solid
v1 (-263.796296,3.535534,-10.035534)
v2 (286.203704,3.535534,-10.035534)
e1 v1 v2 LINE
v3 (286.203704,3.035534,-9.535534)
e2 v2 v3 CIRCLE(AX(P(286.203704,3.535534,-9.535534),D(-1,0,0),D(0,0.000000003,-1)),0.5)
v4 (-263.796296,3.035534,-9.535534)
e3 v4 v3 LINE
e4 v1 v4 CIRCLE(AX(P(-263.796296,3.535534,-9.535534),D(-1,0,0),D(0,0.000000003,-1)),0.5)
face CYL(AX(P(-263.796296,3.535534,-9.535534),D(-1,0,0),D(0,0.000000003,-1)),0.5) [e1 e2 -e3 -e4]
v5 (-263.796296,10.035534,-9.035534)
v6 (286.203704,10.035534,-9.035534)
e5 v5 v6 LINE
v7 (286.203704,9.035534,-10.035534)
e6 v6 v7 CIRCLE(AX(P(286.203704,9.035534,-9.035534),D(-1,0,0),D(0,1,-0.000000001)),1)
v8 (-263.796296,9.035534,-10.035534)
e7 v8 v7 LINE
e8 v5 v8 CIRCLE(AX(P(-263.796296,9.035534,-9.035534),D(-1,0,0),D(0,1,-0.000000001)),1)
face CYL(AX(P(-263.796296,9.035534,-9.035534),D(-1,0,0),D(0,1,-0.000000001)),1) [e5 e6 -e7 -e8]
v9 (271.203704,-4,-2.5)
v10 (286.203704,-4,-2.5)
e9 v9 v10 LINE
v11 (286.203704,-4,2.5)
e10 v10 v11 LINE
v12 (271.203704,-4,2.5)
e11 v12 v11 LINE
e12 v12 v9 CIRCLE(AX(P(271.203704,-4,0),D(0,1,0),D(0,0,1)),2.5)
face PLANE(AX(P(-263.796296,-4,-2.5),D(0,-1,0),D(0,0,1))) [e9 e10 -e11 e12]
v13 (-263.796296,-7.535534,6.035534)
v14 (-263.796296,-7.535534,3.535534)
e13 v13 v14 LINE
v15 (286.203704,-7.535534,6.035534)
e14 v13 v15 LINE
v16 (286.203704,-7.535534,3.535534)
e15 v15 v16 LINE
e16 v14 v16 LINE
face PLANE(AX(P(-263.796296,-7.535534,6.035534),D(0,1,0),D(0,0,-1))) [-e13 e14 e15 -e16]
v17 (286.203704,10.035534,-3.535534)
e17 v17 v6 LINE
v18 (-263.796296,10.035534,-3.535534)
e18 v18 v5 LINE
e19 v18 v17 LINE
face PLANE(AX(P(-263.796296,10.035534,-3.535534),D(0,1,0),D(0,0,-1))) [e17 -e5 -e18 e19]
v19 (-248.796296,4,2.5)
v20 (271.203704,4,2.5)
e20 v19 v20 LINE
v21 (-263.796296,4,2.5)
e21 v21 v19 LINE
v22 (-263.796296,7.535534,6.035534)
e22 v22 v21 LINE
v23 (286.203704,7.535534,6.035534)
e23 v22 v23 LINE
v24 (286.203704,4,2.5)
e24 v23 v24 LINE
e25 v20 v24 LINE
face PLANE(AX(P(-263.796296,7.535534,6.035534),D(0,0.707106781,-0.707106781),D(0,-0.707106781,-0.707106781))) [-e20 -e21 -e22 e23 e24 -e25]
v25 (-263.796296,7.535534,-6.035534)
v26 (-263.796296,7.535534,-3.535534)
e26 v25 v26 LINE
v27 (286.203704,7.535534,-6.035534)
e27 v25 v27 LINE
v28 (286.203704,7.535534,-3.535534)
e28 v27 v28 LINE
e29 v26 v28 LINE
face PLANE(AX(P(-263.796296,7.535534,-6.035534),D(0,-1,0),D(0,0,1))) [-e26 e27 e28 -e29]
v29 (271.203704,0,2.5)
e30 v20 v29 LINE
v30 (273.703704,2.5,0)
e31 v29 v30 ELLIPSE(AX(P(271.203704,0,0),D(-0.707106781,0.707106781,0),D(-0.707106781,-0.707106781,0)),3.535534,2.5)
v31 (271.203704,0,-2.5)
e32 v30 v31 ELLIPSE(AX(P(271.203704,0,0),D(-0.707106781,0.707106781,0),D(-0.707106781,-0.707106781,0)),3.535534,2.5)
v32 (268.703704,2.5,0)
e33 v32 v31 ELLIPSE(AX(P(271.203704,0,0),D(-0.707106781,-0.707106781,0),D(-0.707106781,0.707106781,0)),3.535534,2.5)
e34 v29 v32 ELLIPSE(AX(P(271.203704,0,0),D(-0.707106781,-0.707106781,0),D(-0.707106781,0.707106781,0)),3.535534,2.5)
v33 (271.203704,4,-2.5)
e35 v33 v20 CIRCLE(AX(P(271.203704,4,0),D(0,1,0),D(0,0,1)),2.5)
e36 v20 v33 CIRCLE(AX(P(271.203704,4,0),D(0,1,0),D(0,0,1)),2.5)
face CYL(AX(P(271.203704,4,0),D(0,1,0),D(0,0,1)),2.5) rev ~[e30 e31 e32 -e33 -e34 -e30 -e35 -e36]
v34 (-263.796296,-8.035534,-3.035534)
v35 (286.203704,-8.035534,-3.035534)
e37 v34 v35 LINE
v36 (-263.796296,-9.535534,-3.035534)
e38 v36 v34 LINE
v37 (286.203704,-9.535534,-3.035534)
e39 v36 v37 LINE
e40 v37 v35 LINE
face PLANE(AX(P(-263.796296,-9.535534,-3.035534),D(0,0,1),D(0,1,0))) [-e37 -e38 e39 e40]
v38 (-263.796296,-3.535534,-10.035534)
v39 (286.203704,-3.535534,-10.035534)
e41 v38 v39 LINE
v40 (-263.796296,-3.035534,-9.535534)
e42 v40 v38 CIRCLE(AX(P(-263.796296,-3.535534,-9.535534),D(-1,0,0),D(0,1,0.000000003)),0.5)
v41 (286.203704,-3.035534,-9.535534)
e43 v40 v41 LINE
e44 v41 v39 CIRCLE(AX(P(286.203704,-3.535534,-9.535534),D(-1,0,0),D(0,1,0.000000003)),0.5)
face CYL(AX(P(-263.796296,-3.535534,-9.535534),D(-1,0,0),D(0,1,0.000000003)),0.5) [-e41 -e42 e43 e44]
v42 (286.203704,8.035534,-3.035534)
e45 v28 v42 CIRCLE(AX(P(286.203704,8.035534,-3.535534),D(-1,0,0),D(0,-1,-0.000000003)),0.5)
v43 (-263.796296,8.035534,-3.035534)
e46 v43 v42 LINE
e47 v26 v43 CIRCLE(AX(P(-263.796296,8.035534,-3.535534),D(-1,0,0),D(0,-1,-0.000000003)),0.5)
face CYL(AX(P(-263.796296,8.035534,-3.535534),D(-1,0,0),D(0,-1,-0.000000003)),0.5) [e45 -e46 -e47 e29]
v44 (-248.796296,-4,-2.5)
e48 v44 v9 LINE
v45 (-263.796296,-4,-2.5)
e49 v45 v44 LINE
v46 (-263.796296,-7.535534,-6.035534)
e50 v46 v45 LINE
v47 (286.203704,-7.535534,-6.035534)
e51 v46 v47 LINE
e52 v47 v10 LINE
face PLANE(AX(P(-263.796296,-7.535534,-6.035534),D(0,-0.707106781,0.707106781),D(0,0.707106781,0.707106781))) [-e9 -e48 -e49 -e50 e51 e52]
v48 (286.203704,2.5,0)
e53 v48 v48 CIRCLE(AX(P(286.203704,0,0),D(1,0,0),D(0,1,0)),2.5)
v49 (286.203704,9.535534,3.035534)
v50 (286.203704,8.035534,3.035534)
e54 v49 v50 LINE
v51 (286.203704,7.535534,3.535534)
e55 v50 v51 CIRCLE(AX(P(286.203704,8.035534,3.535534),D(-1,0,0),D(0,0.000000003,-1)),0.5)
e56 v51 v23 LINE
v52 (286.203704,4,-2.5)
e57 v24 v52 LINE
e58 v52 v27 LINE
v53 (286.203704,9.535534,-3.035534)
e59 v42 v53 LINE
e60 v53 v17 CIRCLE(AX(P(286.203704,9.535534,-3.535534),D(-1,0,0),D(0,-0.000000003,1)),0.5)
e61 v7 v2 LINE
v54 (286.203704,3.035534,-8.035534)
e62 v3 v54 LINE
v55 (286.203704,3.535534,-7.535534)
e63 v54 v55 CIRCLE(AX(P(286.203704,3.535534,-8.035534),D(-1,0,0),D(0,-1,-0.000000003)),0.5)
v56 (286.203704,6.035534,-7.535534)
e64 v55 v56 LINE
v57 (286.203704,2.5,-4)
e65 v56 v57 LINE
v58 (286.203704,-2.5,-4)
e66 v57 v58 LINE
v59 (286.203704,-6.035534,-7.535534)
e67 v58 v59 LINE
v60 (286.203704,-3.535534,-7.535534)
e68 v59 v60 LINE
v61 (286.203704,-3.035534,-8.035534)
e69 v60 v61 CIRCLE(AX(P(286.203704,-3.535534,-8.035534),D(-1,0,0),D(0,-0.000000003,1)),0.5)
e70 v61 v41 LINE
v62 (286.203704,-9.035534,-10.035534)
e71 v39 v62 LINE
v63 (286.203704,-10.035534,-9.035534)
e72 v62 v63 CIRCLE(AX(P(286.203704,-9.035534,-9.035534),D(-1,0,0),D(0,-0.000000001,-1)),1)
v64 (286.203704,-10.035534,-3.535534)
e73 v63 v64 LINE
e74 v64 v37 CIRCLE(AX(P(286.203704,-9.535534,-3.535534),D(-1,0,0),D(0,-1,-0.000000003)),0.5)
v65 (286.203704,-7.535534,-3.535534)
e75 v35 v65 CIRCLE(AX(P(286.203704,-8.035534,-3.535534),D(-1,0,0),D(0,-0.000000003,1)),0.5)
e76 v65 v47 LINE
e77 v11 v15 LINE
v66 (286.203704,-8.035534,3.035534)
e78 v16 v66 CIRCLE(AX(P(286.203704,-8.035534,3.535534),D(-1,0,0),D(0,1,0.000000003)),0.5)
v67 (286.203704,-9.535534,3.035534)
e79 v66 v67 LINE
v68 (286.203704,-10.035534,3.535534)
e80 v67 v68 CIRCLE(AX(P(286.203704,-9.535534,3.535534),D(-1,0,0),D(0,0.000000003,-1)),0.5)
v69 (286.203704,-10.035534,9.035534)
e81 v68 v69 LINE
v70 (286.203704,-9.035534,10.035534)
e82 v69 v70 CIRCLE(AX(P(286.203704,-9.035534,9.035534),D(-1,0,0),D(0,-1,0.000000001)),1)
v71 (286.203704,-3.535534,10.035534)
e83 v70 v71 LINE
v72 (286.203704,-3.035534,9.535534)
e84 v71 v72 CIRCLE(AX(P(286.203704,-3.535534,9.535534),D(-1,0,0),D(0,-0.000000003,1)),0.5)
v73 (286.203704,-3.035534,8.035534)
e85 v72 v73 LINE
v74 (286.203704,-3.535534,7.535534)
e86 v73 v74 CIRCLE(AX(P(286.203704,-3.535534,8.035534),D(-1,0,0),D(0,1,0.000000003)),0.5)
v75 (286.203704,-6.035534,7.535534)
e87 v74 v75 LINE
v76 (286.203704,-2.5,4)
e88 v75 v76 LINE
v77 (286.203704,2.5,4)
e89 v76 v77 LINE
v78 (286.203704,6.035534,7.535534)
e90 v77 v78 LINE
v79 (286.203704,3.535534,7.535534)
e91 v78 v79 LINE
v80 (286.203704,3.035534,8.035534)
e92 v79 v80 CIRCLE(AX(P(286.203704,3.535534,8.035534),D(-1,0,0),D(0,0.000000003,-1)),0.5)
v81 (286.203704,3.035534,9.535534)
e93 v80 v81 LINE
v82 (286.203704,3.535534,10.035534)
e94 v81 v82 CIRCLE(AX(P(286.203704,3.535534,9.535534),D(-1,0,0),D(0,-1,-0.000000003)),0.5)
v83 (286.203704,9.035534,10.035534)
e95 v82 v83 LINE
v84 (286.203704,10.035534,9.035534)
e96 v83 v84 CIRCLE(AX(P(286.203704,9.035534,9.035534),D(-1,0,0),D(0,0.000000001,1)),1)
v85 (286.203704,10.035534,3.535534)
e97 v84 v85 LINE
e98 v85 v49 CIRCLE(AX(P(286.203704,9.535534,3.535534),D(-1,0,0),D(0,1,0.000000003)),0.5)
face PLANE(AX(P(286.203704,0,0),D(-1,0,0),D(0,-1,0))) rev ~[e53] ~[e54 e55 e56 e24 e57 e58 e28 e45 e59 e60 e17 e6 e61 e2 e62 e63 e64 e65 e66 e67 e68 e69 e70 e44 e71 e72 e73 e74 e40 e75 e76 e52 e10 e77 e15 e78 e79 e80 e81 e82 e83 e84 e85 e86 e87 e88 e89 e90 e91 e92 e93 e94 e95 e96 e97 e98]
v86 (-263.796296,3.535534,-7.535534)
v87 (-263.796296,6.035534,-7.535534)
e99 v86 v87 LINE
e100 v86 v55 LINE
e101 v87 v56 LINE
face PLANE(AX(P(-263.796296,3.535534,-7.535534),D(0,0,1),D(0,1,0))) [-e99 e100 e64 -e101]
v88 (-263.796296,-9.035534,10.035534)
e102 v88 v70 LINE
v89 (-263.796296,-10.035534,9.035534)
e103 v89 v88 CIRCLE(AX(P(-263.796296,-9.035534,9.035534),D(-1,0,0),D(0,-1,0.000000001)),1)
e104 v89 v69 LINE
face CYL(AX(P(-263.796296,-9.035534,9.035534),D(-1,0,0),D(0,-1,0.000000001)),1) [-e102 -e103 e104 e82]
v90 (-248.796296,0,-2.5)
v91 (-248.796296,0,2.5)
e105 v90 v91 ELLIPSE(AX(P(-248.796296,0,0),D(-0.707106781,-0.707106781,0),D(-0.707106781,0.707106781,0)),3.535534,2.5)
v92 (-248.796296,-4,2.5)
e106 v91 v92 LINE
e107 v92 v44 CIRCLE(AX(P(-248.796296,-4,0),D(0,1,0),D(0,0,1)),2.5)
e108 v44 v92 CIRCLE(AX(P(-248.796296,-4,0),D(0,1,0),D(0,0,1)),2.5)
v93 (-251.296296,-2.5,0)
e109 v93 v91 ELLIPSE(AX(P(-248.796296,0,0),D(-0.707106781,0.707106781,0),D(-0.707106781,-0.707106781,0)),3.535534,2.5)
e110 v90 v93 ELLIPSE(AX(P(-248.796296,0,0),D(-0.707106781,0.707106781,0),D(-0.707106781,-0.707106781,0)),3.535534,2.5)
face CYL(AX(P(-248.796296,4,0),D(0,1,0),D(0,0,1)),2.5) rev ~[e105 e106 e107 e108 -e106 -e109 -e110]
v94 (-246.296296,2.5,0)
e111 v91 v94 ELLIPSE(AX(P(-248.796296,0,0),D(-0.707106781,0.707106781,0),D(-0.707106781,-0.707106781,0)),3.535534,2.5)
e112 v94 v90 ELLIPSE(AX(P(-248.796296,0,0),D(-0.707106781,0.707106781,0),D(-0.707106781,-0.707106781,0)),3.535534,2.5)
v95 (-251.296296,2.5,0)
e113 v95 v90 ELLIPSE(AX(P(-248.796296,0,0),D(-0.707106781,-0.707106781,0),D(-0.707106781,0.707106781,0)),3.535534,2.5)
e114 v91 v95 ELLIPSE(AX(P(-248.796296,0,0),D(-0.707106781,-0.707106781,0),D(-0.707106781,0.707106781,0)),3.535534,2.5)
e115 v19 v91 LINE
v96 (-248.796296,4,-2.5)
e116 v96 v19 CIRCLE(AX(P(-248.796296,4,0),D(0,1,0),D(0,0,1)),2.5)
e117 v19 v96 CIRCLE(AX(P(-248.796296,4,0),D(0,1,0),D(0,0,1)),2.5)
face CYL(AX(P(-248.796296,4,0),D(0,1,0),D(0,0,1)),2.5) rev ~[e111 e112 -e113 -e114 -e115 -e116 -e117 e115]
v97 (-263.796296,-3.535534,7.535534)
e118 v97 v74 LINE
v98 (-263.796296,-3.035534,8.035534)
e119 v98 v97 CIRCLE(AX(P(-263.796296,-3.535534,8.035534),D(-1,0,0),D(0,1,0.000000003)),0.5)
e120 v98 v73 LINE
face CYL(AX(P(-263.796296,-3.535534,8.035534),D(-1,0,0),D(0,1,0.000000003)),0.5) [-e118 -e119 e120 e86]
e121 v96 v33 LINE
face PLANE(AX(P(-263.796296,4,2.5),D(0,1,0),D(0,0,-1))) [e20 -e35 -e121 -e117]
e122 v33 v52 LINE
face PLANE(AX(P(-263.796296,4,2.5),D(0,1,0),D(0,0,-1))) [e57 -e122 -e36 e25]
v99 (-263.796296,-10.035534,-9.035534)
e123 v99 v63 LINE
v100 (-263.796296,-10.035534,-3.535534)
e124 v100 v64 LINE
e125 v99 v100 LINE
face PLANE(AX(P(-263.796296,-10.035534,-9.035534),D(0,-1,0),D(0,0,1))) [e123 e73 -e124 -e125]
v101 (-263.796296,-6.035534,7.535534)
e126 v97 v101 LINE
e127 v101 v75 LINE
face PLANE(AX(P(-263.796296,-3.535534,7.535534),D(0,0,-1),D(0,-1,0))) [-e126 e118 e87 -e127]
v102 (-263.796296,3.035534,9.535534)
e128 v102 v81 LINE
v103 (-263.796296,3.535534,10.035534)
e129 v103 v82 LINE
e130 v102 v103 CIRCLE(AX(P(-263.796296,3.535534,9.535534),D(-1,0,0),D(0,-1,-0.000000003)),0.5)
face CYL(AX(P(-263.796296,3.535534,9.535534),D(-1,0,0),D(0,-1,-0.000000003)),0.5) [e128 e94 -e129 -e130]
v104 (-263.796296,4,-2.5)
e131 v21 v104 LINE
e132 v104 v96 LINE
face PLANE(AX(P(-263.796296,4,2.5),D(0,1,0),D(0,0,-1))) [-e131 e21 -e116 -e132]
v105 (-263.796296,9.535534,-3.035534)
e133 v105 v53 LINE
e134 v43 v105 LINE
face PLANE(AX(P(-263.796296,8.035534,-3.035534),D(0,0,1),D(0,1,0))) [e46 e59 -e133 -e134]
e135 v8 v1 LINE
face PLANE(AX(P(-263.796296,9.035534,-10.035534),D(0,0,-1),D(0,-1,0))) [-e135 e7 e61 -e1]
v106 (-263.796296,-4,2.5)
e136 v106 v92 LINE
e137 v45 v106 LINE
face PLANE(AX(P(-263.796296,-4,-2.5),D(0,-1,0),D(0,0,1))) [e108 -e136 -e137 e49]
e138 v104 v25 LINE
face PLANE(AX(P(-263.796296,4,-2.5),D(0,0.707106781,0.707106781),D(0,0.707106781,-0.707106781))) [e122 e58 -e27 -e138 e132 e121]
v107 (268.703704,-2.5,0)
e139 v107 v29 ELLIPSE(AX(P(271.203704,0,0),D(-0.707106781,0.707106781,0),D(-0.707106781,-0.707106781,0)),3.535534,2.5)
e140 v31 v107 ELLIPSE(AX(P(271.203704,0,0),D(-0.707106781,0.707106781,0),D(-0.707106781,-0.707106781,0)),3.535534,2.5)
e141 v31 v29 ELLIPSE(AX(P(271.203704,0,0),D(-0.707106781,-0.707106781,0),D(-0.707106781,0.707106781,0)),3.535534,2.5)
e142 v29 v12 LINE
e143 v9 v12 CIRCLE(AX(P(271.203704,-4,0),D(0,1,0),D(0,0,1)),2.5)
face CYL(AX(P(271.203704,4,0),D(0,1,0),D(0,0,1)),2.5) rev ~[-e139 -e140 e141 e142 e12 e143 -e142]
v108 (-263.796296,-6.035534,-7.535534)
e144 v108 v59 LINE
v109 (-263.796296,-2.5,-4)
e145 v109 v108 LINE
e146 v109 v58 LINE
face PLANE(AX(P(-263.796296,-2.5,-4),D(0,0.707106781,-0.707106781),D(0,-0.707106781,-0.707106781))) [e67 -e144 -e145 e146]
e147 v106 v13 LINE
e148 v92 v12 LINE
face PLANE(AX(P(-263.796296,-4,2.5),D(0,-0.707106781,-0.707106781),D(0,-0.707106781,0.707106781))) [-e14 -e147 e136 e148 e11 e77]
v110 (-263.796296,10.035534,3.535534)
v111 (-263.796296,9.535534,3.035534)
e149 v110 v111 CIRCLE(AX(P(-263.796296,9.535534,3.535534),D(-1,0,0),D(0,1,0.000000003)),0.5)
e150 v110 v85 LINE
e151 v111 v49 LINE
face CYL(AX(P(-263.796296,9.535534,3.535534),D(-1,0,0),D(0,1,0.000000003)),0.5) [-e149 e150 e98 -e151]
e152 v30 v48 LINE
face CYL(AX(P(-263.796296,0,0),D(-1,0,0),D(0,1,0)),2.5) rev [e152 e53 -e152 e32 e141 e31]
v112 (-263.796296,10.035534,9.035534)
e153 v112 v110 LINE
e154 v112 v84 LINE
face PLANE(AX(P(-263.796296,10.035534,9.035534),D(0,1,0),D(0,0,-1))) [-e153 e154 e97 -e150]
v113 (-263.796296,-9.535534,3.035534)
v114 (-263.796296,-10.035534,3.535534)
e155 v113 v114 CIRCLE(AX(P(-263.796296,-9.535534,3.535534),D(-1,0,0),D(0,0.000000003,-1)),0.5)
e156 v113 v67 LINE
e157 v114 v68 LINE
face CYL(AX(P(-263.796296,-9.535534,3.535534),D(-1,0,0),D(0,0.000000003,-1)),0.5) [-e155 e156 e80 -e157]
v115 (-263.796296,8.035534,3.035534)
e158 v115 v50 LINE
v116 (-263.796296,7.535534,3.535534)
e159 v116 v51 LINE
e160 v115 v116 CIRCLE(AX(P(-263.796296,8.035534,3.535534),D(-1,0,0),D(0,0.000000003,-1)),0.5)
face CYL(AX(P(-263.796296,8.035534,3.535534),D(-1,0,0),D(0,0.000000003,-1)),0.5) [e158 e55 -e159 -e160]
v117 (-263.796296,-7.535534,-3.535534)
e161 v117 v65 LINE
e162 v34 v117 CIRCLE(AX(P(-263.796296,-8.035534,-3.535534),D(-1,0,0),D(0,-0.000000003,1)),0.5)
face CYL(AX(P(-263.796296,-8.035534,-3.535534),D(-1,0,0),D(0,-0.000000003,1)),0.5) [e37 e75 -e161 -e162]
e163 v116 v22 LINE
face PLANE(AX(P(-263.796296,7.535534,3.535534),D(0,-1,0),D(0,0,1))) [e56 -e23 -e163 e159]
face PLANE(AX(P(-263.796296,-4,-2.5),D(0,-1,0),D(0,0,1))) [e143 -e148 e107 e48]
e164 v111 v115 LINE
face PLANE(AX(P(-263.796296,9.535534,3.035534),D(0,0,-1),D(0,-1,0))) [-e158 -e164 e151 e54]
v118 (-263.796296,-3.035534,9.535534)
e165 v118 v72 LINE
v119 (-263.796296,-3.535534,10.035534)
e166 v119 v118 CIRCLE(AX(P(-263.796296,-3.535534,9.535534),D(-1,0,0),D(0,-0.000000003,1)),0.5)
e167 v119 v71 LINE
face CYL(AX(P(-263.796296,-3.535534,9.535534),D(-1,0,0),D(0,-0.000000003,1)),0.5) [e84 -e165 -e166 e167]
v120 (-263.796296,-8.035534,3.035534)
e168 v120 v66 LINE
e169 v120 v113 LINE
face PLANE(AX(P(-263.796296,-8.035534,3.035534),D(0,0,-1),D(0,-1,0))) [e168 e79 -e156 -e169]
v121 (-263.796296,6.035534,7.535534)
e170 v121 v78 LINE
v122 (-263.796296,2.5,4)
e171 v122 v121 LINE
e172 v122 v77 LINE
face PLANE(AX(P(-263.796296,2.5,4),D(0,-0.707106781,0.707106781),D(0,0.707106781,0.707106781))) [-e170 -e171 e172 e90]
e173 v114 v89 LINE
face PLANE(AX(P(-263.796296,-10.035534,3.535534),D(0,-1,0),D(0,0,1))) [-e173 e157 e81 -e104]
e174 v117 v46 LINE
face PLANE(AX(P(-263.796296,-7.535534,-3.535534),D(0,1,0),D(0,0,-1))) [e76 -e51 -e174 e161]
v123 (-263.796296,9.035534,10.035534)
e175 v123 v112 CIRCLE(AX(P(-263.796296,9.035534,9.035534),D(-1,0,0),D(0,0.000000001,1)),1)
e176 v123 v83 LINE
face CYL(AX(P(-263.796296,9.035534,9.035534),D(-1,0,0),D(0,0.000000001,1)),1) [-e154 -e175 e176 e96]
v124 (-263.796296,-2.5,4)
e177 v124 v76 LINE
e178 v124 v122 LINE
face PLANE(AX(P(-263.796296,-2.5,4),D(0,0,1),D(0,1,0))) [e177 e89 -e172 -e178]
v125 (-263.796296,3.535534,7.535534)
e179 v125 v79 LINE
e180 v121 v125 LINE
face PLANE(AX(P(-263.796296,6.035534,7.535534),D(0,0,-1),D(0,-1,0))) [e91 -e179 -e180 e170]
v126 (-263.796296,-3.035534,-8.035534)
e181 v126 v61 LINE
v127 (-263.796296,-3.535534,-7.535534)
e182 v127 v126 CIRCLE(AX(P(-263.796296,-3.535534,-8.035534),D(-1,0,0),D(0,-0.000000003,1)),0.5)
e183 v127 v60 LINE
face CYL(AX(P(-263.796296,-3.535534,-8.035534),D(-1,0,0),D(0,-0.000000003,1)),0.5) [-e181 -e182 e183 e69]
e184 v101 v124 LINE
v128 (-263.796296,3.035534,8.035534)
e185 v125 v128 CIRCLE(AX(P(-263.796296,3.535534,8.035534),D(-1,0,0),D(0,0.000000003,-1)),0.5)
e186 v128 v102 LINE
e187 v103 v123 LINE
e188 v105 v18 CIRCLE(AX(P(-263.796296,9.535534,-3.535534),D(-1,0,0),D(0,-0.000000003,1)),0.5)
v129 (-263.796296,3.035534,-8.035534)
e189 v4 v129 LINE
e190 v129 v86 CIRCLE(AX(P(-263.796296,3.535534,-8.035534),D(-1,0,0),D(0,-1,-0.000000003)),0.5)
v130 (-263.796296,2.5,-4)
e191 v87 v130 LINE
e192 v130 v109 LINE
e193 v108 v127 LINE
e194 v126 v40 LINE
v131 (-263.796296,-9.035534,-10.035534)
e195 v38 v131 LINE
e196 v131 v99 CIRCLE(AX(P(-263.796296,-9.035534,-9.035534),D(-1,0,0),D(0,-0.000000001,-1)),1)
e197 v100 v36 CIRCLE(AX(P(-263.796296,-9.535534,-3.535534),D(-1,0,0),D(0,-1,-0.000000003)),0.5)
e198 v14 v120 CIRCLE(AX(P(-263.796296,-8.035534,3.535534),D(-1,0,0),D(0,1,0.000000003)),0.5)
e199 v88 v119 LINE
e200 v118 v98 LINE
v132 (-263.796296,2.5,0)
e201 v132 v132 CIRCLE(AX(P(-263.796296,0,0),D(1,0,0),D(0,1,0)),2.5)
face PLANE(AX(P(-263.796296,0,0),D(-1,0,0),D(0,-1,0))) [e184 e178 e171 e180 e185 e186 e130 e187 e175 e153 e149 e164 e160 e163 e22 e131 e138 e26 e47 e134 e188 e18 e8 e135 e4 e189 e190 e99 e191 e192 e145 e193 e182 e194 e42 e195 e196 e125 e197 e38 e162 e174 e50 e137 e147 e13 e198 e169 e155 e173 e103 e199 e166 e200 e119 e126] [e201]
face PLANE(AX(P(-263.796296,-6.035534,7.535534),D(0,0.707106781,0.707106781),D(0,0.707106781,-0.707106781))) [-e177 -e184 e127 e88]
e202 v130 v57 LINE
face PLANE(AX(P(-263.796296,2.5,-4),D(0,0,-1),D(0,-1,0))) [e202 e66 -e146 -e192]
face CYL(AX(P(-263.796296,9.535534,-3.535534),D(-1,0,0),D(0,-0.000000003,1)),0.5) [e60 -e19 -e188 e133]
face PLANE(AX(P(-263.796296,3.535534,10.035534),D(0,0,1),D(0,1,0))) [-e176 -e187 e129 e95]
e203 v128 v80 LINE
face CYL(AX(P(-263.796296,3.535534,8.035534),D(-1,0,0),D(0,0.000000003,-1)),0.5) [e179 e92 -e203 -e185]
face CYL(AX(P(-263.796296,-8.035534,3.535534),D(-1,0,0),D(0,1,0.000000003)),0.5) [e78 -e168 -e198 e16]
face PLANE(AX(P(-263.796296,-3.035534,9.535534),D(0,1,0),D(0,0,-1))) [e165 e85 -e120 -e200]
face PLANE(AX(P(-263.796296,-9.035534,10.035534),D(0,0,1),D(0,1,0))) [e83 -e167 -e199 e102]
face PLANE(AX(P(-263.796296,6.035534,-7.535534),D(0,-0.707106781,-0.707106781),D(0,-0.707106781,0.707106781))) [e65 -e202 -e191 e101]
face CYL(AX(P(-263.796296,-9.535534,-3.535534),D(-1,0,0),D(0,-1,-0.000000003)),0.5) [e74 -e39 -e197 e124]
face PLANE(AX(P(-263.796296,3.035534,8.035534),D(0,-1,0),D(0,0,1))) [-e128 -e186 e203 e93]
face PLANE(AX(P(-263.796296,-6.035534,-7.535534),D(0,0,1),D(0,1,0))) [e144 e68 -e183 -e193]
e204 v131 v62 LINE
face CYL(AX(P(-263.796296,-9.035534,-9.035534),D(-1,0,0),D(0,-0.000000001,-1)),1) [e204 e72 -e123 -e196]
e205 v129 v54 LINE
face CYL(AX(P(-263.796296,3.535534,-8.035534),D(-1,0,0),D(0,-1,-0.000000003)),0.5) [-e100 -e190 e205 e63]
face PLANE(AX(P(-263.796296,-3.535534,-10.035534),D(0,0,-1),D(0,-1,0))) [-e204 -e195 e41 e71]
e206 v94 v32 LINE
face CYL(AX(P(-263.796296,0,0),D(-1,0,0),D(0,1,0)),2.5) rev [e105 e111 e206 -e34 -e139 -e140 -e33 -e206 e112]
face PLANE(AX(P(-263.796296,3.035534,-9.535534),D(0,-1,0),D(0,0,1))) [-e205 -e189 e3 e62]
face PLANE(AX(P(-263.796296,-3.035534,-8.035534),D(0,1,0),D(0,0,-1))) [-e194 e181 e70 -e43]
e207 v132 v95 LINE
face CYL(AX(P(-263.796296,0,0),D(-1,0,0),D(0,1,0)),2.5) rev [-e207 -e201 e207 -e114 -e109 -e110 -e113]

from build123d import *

# Parameters (mm, degrees)
SKETCH11_R                            = 2.5
ALUMINIUM_PROF_ALUMINIUM_PROF_1_DEPTH = 550
SKETCH12_R                            = 2.5
CUT_EXTRUDE1_DEPTH                    = 287.723330349


with BuildPart() as part:
    # Sketch11 → Aluminium prof ALUMINIUM PROF(1) (new body)
    with BuildSketch(Plane.YZ.offset(-263.796296296)):
        with BuildLine():
            Line((-2.5, 4), (2.5, 4))
            Line((2.5, 4), (6.035533906, 7.535533906))
            Line((6.035533906, 7.535533906), (3.535533906, 7.535533906))
            ThreePointArc((3.535533906, 7.535533906), (3.181980515, 7.681980515), (3.035533906, 8.035533906))
            Line((3.035533906, 8.035533906), (3.035533906, 9.535533906))
            ThreePointArc((3.035533906, 9.535533906), (3.181980515, 9.889087297), (3.535533906, 10.035533906))
            Line((3.535533906, 10.035533906), (9.035533906, 10.035533906))
            ThreePointArc((9.035533906, 10.035533906), (9.742640687, 9.742640687), (10.035533906, 9.035533906))
            Line((10.035533906, 9.035533906), (10.035533906, 3.535533906))
            ThreePointArc((10.035533906, 3.535533906), (9.889087297, 3.181980515), (9.535533906, 3.035533906))
            Line((9.535533906, 3.035533906), (8.035533906, 3.035533906))
            ThreePointArc((8.035533906, 3.035533906), (7.681980515, 3.181980515), (7.535533906, 3.535533906))
            Line((7.535533906, 3.535533906), (7.535533906, 6.035533906))
            Line((7.535533906, 6.035533906), (4, 2.5))
            Line((4, 2.5), (4, -2.5))
            Line((4, -2.5), (7.535533906, -6.035533906))
            Line((7.535533906, -6.035533906), (7.535533906, -3.535533906))
            ThreePointArc((7.535533906, -3.535533906), (7.681980515, -3.181980515), (8.035533906, -3.035533906))
            Line((8.035533906, -3.035533906), (9.535533906, -3.035533906))
            ThreePointArc((9.535533906, -3.035533906), (9.889087297, -3.181980515), (10.035533906, -3.535533906))
            Line((10.035533906, -3.535533906), (10.035533906, -9.035533906))
            ThreePointArc((10.035533906, -9.035533906), (9.742640687, -9.742640687), (9.035533906, -10.035533906))
            Line((9.035533906, -10.035533906), (3.535533906, -10.035533906))
            ThreePointArc((3.535533906, -10.035533906), (3.181980515, -9.889087297), (3.035533906, -9.535533906))
            Line((3.035533906, -9.535533906), (3.035533906, -8.035533906))
            ThreePointArc((3.035533906, -8.035533906), (3.181980515, -7.681980515), (3.535533906, -7.535533906))
            Line((3.535533906, -7.535533906), (6.035533906, -7.535533906))
            Line((6.035533906, -7.535533906), (2.5, -4))
            Line((2.5, -4), (-2.5, -4))
            Line((-2.5, -4), (-6.035533906, -7.535533906))
            Line((-6.035533906, -7.535533906), (-3.535533906, -7.535533906))
            ThreePointArc((-3.535533906, -7.535533906), (-3.181980515, -7.681980515), (-3.035533906, -8.035533906))
            Line((-3.035533906, -8.035533906), (-3.035533906, -9.535533906))
            ThreePointArc((-3.035533906, -9.535533906), (-3.181980515, -9.889087297), (-3.535533906, -10.035533906))
            Line((-3.535533906, -10.035533906), (-9.035533906, -10.035533906))
            ThreePointArc((-9.035533906, -10.035533906), (-9.742640687, -9.742640687), (-10.035533906, -9.035533906))
            Line((-10.035533906, -9.035533906), (-10.035533906, -3.535533906))
            ThreePointArc((-10.035533906, -3.535533906), (-9.889087297, -3.181980515), (-9.535533906, -3.035533906))
            Line((-9.535533906, -3.035533906), (-8.035533906, -3.035533906))
            ThreePointArc((-8.035533906, -3.035533906), (-7.681980515, -3.181980515), (-7.535533906, -3.535533906))
            Line((-7.535533906, -3.535533906), (-7.535533906, -6.035533906))
            Line((-7.535533906, -6.035533906), (-4, -2.5))
            Line((-4, -2.5), (-4, 2.5))
            Line((-4, 2.5), (-7.535533906, 6.035533906))
            Line((-7.535533906, 6.035533906), (-7.535533906, 3.535533906))
            ThreePointArc((-7.535533906, 3.535533906), (-7.681980515, 3.181980515), (-8.035533906, 3.035533906))
            Line((-8.035533906, 3.035533906), (-9.535533906, 3.035533906))
            ThreePointArc((-9.535533906, 3.035533906), (-9.889087297, 3.181980515), (-10.035533906, 3.535533906))
            Line((-10.035533906, 3.535533906), (-10.035533906, 9.035533906))
            ThreePointArc((-10.035533906, 9.035533906), (-9.742640687, 9.742640687), (-9.035533906, 10.035533906))
            Line((-9.035533906, 10.035533906), (-3.535533906, 10.035533906))
            ThreePointArc((-3.535533906, 10.035533906), (-3.181980515, 9.889087297), (-3.035533906, 9.535533906))
            Line((-3.035533906, 9.535533906), (-3.035533906, 8.035533906))
            ThreePointArc((-3.035533906, 8.035533906), (-3.181980515, 7.681980515), (-3.535533906, 7.535533906))
            Line((-3.535533906, 7.535533906), (-6.035533906, 7.535533906))
            Line((-6.035533906, 7.535533906), (-2.5, 4))
        make_face()
        Circle(SKETCH11_R, mode=Mode.SUBTRACT)
    extrude(amount=ALUMINIUM_PROF_ALUMINIUM_PROF_1_DEPTH)

    # Sketch12 → Cut-Extrude1 (cut, through all)
    with BuildSketch(Plane(origin=(0, 4, 0), x_dir=(1, 0, 0), z_dir=(0, 1, 0))):
        with Locations(Location((-248.796296296, 0, 0), (0, 0, 270))):
            Circle(SKETCH12_R)
        with Locations(Location((271.203703704, 0, 0), (0, 0, 270))):
            Circle(SKETCH12_R)
    extrude(amount=-CUT_EXTRUDE1_DEPTH, mode=Mode.SUBTRACT)


solid = part.part
